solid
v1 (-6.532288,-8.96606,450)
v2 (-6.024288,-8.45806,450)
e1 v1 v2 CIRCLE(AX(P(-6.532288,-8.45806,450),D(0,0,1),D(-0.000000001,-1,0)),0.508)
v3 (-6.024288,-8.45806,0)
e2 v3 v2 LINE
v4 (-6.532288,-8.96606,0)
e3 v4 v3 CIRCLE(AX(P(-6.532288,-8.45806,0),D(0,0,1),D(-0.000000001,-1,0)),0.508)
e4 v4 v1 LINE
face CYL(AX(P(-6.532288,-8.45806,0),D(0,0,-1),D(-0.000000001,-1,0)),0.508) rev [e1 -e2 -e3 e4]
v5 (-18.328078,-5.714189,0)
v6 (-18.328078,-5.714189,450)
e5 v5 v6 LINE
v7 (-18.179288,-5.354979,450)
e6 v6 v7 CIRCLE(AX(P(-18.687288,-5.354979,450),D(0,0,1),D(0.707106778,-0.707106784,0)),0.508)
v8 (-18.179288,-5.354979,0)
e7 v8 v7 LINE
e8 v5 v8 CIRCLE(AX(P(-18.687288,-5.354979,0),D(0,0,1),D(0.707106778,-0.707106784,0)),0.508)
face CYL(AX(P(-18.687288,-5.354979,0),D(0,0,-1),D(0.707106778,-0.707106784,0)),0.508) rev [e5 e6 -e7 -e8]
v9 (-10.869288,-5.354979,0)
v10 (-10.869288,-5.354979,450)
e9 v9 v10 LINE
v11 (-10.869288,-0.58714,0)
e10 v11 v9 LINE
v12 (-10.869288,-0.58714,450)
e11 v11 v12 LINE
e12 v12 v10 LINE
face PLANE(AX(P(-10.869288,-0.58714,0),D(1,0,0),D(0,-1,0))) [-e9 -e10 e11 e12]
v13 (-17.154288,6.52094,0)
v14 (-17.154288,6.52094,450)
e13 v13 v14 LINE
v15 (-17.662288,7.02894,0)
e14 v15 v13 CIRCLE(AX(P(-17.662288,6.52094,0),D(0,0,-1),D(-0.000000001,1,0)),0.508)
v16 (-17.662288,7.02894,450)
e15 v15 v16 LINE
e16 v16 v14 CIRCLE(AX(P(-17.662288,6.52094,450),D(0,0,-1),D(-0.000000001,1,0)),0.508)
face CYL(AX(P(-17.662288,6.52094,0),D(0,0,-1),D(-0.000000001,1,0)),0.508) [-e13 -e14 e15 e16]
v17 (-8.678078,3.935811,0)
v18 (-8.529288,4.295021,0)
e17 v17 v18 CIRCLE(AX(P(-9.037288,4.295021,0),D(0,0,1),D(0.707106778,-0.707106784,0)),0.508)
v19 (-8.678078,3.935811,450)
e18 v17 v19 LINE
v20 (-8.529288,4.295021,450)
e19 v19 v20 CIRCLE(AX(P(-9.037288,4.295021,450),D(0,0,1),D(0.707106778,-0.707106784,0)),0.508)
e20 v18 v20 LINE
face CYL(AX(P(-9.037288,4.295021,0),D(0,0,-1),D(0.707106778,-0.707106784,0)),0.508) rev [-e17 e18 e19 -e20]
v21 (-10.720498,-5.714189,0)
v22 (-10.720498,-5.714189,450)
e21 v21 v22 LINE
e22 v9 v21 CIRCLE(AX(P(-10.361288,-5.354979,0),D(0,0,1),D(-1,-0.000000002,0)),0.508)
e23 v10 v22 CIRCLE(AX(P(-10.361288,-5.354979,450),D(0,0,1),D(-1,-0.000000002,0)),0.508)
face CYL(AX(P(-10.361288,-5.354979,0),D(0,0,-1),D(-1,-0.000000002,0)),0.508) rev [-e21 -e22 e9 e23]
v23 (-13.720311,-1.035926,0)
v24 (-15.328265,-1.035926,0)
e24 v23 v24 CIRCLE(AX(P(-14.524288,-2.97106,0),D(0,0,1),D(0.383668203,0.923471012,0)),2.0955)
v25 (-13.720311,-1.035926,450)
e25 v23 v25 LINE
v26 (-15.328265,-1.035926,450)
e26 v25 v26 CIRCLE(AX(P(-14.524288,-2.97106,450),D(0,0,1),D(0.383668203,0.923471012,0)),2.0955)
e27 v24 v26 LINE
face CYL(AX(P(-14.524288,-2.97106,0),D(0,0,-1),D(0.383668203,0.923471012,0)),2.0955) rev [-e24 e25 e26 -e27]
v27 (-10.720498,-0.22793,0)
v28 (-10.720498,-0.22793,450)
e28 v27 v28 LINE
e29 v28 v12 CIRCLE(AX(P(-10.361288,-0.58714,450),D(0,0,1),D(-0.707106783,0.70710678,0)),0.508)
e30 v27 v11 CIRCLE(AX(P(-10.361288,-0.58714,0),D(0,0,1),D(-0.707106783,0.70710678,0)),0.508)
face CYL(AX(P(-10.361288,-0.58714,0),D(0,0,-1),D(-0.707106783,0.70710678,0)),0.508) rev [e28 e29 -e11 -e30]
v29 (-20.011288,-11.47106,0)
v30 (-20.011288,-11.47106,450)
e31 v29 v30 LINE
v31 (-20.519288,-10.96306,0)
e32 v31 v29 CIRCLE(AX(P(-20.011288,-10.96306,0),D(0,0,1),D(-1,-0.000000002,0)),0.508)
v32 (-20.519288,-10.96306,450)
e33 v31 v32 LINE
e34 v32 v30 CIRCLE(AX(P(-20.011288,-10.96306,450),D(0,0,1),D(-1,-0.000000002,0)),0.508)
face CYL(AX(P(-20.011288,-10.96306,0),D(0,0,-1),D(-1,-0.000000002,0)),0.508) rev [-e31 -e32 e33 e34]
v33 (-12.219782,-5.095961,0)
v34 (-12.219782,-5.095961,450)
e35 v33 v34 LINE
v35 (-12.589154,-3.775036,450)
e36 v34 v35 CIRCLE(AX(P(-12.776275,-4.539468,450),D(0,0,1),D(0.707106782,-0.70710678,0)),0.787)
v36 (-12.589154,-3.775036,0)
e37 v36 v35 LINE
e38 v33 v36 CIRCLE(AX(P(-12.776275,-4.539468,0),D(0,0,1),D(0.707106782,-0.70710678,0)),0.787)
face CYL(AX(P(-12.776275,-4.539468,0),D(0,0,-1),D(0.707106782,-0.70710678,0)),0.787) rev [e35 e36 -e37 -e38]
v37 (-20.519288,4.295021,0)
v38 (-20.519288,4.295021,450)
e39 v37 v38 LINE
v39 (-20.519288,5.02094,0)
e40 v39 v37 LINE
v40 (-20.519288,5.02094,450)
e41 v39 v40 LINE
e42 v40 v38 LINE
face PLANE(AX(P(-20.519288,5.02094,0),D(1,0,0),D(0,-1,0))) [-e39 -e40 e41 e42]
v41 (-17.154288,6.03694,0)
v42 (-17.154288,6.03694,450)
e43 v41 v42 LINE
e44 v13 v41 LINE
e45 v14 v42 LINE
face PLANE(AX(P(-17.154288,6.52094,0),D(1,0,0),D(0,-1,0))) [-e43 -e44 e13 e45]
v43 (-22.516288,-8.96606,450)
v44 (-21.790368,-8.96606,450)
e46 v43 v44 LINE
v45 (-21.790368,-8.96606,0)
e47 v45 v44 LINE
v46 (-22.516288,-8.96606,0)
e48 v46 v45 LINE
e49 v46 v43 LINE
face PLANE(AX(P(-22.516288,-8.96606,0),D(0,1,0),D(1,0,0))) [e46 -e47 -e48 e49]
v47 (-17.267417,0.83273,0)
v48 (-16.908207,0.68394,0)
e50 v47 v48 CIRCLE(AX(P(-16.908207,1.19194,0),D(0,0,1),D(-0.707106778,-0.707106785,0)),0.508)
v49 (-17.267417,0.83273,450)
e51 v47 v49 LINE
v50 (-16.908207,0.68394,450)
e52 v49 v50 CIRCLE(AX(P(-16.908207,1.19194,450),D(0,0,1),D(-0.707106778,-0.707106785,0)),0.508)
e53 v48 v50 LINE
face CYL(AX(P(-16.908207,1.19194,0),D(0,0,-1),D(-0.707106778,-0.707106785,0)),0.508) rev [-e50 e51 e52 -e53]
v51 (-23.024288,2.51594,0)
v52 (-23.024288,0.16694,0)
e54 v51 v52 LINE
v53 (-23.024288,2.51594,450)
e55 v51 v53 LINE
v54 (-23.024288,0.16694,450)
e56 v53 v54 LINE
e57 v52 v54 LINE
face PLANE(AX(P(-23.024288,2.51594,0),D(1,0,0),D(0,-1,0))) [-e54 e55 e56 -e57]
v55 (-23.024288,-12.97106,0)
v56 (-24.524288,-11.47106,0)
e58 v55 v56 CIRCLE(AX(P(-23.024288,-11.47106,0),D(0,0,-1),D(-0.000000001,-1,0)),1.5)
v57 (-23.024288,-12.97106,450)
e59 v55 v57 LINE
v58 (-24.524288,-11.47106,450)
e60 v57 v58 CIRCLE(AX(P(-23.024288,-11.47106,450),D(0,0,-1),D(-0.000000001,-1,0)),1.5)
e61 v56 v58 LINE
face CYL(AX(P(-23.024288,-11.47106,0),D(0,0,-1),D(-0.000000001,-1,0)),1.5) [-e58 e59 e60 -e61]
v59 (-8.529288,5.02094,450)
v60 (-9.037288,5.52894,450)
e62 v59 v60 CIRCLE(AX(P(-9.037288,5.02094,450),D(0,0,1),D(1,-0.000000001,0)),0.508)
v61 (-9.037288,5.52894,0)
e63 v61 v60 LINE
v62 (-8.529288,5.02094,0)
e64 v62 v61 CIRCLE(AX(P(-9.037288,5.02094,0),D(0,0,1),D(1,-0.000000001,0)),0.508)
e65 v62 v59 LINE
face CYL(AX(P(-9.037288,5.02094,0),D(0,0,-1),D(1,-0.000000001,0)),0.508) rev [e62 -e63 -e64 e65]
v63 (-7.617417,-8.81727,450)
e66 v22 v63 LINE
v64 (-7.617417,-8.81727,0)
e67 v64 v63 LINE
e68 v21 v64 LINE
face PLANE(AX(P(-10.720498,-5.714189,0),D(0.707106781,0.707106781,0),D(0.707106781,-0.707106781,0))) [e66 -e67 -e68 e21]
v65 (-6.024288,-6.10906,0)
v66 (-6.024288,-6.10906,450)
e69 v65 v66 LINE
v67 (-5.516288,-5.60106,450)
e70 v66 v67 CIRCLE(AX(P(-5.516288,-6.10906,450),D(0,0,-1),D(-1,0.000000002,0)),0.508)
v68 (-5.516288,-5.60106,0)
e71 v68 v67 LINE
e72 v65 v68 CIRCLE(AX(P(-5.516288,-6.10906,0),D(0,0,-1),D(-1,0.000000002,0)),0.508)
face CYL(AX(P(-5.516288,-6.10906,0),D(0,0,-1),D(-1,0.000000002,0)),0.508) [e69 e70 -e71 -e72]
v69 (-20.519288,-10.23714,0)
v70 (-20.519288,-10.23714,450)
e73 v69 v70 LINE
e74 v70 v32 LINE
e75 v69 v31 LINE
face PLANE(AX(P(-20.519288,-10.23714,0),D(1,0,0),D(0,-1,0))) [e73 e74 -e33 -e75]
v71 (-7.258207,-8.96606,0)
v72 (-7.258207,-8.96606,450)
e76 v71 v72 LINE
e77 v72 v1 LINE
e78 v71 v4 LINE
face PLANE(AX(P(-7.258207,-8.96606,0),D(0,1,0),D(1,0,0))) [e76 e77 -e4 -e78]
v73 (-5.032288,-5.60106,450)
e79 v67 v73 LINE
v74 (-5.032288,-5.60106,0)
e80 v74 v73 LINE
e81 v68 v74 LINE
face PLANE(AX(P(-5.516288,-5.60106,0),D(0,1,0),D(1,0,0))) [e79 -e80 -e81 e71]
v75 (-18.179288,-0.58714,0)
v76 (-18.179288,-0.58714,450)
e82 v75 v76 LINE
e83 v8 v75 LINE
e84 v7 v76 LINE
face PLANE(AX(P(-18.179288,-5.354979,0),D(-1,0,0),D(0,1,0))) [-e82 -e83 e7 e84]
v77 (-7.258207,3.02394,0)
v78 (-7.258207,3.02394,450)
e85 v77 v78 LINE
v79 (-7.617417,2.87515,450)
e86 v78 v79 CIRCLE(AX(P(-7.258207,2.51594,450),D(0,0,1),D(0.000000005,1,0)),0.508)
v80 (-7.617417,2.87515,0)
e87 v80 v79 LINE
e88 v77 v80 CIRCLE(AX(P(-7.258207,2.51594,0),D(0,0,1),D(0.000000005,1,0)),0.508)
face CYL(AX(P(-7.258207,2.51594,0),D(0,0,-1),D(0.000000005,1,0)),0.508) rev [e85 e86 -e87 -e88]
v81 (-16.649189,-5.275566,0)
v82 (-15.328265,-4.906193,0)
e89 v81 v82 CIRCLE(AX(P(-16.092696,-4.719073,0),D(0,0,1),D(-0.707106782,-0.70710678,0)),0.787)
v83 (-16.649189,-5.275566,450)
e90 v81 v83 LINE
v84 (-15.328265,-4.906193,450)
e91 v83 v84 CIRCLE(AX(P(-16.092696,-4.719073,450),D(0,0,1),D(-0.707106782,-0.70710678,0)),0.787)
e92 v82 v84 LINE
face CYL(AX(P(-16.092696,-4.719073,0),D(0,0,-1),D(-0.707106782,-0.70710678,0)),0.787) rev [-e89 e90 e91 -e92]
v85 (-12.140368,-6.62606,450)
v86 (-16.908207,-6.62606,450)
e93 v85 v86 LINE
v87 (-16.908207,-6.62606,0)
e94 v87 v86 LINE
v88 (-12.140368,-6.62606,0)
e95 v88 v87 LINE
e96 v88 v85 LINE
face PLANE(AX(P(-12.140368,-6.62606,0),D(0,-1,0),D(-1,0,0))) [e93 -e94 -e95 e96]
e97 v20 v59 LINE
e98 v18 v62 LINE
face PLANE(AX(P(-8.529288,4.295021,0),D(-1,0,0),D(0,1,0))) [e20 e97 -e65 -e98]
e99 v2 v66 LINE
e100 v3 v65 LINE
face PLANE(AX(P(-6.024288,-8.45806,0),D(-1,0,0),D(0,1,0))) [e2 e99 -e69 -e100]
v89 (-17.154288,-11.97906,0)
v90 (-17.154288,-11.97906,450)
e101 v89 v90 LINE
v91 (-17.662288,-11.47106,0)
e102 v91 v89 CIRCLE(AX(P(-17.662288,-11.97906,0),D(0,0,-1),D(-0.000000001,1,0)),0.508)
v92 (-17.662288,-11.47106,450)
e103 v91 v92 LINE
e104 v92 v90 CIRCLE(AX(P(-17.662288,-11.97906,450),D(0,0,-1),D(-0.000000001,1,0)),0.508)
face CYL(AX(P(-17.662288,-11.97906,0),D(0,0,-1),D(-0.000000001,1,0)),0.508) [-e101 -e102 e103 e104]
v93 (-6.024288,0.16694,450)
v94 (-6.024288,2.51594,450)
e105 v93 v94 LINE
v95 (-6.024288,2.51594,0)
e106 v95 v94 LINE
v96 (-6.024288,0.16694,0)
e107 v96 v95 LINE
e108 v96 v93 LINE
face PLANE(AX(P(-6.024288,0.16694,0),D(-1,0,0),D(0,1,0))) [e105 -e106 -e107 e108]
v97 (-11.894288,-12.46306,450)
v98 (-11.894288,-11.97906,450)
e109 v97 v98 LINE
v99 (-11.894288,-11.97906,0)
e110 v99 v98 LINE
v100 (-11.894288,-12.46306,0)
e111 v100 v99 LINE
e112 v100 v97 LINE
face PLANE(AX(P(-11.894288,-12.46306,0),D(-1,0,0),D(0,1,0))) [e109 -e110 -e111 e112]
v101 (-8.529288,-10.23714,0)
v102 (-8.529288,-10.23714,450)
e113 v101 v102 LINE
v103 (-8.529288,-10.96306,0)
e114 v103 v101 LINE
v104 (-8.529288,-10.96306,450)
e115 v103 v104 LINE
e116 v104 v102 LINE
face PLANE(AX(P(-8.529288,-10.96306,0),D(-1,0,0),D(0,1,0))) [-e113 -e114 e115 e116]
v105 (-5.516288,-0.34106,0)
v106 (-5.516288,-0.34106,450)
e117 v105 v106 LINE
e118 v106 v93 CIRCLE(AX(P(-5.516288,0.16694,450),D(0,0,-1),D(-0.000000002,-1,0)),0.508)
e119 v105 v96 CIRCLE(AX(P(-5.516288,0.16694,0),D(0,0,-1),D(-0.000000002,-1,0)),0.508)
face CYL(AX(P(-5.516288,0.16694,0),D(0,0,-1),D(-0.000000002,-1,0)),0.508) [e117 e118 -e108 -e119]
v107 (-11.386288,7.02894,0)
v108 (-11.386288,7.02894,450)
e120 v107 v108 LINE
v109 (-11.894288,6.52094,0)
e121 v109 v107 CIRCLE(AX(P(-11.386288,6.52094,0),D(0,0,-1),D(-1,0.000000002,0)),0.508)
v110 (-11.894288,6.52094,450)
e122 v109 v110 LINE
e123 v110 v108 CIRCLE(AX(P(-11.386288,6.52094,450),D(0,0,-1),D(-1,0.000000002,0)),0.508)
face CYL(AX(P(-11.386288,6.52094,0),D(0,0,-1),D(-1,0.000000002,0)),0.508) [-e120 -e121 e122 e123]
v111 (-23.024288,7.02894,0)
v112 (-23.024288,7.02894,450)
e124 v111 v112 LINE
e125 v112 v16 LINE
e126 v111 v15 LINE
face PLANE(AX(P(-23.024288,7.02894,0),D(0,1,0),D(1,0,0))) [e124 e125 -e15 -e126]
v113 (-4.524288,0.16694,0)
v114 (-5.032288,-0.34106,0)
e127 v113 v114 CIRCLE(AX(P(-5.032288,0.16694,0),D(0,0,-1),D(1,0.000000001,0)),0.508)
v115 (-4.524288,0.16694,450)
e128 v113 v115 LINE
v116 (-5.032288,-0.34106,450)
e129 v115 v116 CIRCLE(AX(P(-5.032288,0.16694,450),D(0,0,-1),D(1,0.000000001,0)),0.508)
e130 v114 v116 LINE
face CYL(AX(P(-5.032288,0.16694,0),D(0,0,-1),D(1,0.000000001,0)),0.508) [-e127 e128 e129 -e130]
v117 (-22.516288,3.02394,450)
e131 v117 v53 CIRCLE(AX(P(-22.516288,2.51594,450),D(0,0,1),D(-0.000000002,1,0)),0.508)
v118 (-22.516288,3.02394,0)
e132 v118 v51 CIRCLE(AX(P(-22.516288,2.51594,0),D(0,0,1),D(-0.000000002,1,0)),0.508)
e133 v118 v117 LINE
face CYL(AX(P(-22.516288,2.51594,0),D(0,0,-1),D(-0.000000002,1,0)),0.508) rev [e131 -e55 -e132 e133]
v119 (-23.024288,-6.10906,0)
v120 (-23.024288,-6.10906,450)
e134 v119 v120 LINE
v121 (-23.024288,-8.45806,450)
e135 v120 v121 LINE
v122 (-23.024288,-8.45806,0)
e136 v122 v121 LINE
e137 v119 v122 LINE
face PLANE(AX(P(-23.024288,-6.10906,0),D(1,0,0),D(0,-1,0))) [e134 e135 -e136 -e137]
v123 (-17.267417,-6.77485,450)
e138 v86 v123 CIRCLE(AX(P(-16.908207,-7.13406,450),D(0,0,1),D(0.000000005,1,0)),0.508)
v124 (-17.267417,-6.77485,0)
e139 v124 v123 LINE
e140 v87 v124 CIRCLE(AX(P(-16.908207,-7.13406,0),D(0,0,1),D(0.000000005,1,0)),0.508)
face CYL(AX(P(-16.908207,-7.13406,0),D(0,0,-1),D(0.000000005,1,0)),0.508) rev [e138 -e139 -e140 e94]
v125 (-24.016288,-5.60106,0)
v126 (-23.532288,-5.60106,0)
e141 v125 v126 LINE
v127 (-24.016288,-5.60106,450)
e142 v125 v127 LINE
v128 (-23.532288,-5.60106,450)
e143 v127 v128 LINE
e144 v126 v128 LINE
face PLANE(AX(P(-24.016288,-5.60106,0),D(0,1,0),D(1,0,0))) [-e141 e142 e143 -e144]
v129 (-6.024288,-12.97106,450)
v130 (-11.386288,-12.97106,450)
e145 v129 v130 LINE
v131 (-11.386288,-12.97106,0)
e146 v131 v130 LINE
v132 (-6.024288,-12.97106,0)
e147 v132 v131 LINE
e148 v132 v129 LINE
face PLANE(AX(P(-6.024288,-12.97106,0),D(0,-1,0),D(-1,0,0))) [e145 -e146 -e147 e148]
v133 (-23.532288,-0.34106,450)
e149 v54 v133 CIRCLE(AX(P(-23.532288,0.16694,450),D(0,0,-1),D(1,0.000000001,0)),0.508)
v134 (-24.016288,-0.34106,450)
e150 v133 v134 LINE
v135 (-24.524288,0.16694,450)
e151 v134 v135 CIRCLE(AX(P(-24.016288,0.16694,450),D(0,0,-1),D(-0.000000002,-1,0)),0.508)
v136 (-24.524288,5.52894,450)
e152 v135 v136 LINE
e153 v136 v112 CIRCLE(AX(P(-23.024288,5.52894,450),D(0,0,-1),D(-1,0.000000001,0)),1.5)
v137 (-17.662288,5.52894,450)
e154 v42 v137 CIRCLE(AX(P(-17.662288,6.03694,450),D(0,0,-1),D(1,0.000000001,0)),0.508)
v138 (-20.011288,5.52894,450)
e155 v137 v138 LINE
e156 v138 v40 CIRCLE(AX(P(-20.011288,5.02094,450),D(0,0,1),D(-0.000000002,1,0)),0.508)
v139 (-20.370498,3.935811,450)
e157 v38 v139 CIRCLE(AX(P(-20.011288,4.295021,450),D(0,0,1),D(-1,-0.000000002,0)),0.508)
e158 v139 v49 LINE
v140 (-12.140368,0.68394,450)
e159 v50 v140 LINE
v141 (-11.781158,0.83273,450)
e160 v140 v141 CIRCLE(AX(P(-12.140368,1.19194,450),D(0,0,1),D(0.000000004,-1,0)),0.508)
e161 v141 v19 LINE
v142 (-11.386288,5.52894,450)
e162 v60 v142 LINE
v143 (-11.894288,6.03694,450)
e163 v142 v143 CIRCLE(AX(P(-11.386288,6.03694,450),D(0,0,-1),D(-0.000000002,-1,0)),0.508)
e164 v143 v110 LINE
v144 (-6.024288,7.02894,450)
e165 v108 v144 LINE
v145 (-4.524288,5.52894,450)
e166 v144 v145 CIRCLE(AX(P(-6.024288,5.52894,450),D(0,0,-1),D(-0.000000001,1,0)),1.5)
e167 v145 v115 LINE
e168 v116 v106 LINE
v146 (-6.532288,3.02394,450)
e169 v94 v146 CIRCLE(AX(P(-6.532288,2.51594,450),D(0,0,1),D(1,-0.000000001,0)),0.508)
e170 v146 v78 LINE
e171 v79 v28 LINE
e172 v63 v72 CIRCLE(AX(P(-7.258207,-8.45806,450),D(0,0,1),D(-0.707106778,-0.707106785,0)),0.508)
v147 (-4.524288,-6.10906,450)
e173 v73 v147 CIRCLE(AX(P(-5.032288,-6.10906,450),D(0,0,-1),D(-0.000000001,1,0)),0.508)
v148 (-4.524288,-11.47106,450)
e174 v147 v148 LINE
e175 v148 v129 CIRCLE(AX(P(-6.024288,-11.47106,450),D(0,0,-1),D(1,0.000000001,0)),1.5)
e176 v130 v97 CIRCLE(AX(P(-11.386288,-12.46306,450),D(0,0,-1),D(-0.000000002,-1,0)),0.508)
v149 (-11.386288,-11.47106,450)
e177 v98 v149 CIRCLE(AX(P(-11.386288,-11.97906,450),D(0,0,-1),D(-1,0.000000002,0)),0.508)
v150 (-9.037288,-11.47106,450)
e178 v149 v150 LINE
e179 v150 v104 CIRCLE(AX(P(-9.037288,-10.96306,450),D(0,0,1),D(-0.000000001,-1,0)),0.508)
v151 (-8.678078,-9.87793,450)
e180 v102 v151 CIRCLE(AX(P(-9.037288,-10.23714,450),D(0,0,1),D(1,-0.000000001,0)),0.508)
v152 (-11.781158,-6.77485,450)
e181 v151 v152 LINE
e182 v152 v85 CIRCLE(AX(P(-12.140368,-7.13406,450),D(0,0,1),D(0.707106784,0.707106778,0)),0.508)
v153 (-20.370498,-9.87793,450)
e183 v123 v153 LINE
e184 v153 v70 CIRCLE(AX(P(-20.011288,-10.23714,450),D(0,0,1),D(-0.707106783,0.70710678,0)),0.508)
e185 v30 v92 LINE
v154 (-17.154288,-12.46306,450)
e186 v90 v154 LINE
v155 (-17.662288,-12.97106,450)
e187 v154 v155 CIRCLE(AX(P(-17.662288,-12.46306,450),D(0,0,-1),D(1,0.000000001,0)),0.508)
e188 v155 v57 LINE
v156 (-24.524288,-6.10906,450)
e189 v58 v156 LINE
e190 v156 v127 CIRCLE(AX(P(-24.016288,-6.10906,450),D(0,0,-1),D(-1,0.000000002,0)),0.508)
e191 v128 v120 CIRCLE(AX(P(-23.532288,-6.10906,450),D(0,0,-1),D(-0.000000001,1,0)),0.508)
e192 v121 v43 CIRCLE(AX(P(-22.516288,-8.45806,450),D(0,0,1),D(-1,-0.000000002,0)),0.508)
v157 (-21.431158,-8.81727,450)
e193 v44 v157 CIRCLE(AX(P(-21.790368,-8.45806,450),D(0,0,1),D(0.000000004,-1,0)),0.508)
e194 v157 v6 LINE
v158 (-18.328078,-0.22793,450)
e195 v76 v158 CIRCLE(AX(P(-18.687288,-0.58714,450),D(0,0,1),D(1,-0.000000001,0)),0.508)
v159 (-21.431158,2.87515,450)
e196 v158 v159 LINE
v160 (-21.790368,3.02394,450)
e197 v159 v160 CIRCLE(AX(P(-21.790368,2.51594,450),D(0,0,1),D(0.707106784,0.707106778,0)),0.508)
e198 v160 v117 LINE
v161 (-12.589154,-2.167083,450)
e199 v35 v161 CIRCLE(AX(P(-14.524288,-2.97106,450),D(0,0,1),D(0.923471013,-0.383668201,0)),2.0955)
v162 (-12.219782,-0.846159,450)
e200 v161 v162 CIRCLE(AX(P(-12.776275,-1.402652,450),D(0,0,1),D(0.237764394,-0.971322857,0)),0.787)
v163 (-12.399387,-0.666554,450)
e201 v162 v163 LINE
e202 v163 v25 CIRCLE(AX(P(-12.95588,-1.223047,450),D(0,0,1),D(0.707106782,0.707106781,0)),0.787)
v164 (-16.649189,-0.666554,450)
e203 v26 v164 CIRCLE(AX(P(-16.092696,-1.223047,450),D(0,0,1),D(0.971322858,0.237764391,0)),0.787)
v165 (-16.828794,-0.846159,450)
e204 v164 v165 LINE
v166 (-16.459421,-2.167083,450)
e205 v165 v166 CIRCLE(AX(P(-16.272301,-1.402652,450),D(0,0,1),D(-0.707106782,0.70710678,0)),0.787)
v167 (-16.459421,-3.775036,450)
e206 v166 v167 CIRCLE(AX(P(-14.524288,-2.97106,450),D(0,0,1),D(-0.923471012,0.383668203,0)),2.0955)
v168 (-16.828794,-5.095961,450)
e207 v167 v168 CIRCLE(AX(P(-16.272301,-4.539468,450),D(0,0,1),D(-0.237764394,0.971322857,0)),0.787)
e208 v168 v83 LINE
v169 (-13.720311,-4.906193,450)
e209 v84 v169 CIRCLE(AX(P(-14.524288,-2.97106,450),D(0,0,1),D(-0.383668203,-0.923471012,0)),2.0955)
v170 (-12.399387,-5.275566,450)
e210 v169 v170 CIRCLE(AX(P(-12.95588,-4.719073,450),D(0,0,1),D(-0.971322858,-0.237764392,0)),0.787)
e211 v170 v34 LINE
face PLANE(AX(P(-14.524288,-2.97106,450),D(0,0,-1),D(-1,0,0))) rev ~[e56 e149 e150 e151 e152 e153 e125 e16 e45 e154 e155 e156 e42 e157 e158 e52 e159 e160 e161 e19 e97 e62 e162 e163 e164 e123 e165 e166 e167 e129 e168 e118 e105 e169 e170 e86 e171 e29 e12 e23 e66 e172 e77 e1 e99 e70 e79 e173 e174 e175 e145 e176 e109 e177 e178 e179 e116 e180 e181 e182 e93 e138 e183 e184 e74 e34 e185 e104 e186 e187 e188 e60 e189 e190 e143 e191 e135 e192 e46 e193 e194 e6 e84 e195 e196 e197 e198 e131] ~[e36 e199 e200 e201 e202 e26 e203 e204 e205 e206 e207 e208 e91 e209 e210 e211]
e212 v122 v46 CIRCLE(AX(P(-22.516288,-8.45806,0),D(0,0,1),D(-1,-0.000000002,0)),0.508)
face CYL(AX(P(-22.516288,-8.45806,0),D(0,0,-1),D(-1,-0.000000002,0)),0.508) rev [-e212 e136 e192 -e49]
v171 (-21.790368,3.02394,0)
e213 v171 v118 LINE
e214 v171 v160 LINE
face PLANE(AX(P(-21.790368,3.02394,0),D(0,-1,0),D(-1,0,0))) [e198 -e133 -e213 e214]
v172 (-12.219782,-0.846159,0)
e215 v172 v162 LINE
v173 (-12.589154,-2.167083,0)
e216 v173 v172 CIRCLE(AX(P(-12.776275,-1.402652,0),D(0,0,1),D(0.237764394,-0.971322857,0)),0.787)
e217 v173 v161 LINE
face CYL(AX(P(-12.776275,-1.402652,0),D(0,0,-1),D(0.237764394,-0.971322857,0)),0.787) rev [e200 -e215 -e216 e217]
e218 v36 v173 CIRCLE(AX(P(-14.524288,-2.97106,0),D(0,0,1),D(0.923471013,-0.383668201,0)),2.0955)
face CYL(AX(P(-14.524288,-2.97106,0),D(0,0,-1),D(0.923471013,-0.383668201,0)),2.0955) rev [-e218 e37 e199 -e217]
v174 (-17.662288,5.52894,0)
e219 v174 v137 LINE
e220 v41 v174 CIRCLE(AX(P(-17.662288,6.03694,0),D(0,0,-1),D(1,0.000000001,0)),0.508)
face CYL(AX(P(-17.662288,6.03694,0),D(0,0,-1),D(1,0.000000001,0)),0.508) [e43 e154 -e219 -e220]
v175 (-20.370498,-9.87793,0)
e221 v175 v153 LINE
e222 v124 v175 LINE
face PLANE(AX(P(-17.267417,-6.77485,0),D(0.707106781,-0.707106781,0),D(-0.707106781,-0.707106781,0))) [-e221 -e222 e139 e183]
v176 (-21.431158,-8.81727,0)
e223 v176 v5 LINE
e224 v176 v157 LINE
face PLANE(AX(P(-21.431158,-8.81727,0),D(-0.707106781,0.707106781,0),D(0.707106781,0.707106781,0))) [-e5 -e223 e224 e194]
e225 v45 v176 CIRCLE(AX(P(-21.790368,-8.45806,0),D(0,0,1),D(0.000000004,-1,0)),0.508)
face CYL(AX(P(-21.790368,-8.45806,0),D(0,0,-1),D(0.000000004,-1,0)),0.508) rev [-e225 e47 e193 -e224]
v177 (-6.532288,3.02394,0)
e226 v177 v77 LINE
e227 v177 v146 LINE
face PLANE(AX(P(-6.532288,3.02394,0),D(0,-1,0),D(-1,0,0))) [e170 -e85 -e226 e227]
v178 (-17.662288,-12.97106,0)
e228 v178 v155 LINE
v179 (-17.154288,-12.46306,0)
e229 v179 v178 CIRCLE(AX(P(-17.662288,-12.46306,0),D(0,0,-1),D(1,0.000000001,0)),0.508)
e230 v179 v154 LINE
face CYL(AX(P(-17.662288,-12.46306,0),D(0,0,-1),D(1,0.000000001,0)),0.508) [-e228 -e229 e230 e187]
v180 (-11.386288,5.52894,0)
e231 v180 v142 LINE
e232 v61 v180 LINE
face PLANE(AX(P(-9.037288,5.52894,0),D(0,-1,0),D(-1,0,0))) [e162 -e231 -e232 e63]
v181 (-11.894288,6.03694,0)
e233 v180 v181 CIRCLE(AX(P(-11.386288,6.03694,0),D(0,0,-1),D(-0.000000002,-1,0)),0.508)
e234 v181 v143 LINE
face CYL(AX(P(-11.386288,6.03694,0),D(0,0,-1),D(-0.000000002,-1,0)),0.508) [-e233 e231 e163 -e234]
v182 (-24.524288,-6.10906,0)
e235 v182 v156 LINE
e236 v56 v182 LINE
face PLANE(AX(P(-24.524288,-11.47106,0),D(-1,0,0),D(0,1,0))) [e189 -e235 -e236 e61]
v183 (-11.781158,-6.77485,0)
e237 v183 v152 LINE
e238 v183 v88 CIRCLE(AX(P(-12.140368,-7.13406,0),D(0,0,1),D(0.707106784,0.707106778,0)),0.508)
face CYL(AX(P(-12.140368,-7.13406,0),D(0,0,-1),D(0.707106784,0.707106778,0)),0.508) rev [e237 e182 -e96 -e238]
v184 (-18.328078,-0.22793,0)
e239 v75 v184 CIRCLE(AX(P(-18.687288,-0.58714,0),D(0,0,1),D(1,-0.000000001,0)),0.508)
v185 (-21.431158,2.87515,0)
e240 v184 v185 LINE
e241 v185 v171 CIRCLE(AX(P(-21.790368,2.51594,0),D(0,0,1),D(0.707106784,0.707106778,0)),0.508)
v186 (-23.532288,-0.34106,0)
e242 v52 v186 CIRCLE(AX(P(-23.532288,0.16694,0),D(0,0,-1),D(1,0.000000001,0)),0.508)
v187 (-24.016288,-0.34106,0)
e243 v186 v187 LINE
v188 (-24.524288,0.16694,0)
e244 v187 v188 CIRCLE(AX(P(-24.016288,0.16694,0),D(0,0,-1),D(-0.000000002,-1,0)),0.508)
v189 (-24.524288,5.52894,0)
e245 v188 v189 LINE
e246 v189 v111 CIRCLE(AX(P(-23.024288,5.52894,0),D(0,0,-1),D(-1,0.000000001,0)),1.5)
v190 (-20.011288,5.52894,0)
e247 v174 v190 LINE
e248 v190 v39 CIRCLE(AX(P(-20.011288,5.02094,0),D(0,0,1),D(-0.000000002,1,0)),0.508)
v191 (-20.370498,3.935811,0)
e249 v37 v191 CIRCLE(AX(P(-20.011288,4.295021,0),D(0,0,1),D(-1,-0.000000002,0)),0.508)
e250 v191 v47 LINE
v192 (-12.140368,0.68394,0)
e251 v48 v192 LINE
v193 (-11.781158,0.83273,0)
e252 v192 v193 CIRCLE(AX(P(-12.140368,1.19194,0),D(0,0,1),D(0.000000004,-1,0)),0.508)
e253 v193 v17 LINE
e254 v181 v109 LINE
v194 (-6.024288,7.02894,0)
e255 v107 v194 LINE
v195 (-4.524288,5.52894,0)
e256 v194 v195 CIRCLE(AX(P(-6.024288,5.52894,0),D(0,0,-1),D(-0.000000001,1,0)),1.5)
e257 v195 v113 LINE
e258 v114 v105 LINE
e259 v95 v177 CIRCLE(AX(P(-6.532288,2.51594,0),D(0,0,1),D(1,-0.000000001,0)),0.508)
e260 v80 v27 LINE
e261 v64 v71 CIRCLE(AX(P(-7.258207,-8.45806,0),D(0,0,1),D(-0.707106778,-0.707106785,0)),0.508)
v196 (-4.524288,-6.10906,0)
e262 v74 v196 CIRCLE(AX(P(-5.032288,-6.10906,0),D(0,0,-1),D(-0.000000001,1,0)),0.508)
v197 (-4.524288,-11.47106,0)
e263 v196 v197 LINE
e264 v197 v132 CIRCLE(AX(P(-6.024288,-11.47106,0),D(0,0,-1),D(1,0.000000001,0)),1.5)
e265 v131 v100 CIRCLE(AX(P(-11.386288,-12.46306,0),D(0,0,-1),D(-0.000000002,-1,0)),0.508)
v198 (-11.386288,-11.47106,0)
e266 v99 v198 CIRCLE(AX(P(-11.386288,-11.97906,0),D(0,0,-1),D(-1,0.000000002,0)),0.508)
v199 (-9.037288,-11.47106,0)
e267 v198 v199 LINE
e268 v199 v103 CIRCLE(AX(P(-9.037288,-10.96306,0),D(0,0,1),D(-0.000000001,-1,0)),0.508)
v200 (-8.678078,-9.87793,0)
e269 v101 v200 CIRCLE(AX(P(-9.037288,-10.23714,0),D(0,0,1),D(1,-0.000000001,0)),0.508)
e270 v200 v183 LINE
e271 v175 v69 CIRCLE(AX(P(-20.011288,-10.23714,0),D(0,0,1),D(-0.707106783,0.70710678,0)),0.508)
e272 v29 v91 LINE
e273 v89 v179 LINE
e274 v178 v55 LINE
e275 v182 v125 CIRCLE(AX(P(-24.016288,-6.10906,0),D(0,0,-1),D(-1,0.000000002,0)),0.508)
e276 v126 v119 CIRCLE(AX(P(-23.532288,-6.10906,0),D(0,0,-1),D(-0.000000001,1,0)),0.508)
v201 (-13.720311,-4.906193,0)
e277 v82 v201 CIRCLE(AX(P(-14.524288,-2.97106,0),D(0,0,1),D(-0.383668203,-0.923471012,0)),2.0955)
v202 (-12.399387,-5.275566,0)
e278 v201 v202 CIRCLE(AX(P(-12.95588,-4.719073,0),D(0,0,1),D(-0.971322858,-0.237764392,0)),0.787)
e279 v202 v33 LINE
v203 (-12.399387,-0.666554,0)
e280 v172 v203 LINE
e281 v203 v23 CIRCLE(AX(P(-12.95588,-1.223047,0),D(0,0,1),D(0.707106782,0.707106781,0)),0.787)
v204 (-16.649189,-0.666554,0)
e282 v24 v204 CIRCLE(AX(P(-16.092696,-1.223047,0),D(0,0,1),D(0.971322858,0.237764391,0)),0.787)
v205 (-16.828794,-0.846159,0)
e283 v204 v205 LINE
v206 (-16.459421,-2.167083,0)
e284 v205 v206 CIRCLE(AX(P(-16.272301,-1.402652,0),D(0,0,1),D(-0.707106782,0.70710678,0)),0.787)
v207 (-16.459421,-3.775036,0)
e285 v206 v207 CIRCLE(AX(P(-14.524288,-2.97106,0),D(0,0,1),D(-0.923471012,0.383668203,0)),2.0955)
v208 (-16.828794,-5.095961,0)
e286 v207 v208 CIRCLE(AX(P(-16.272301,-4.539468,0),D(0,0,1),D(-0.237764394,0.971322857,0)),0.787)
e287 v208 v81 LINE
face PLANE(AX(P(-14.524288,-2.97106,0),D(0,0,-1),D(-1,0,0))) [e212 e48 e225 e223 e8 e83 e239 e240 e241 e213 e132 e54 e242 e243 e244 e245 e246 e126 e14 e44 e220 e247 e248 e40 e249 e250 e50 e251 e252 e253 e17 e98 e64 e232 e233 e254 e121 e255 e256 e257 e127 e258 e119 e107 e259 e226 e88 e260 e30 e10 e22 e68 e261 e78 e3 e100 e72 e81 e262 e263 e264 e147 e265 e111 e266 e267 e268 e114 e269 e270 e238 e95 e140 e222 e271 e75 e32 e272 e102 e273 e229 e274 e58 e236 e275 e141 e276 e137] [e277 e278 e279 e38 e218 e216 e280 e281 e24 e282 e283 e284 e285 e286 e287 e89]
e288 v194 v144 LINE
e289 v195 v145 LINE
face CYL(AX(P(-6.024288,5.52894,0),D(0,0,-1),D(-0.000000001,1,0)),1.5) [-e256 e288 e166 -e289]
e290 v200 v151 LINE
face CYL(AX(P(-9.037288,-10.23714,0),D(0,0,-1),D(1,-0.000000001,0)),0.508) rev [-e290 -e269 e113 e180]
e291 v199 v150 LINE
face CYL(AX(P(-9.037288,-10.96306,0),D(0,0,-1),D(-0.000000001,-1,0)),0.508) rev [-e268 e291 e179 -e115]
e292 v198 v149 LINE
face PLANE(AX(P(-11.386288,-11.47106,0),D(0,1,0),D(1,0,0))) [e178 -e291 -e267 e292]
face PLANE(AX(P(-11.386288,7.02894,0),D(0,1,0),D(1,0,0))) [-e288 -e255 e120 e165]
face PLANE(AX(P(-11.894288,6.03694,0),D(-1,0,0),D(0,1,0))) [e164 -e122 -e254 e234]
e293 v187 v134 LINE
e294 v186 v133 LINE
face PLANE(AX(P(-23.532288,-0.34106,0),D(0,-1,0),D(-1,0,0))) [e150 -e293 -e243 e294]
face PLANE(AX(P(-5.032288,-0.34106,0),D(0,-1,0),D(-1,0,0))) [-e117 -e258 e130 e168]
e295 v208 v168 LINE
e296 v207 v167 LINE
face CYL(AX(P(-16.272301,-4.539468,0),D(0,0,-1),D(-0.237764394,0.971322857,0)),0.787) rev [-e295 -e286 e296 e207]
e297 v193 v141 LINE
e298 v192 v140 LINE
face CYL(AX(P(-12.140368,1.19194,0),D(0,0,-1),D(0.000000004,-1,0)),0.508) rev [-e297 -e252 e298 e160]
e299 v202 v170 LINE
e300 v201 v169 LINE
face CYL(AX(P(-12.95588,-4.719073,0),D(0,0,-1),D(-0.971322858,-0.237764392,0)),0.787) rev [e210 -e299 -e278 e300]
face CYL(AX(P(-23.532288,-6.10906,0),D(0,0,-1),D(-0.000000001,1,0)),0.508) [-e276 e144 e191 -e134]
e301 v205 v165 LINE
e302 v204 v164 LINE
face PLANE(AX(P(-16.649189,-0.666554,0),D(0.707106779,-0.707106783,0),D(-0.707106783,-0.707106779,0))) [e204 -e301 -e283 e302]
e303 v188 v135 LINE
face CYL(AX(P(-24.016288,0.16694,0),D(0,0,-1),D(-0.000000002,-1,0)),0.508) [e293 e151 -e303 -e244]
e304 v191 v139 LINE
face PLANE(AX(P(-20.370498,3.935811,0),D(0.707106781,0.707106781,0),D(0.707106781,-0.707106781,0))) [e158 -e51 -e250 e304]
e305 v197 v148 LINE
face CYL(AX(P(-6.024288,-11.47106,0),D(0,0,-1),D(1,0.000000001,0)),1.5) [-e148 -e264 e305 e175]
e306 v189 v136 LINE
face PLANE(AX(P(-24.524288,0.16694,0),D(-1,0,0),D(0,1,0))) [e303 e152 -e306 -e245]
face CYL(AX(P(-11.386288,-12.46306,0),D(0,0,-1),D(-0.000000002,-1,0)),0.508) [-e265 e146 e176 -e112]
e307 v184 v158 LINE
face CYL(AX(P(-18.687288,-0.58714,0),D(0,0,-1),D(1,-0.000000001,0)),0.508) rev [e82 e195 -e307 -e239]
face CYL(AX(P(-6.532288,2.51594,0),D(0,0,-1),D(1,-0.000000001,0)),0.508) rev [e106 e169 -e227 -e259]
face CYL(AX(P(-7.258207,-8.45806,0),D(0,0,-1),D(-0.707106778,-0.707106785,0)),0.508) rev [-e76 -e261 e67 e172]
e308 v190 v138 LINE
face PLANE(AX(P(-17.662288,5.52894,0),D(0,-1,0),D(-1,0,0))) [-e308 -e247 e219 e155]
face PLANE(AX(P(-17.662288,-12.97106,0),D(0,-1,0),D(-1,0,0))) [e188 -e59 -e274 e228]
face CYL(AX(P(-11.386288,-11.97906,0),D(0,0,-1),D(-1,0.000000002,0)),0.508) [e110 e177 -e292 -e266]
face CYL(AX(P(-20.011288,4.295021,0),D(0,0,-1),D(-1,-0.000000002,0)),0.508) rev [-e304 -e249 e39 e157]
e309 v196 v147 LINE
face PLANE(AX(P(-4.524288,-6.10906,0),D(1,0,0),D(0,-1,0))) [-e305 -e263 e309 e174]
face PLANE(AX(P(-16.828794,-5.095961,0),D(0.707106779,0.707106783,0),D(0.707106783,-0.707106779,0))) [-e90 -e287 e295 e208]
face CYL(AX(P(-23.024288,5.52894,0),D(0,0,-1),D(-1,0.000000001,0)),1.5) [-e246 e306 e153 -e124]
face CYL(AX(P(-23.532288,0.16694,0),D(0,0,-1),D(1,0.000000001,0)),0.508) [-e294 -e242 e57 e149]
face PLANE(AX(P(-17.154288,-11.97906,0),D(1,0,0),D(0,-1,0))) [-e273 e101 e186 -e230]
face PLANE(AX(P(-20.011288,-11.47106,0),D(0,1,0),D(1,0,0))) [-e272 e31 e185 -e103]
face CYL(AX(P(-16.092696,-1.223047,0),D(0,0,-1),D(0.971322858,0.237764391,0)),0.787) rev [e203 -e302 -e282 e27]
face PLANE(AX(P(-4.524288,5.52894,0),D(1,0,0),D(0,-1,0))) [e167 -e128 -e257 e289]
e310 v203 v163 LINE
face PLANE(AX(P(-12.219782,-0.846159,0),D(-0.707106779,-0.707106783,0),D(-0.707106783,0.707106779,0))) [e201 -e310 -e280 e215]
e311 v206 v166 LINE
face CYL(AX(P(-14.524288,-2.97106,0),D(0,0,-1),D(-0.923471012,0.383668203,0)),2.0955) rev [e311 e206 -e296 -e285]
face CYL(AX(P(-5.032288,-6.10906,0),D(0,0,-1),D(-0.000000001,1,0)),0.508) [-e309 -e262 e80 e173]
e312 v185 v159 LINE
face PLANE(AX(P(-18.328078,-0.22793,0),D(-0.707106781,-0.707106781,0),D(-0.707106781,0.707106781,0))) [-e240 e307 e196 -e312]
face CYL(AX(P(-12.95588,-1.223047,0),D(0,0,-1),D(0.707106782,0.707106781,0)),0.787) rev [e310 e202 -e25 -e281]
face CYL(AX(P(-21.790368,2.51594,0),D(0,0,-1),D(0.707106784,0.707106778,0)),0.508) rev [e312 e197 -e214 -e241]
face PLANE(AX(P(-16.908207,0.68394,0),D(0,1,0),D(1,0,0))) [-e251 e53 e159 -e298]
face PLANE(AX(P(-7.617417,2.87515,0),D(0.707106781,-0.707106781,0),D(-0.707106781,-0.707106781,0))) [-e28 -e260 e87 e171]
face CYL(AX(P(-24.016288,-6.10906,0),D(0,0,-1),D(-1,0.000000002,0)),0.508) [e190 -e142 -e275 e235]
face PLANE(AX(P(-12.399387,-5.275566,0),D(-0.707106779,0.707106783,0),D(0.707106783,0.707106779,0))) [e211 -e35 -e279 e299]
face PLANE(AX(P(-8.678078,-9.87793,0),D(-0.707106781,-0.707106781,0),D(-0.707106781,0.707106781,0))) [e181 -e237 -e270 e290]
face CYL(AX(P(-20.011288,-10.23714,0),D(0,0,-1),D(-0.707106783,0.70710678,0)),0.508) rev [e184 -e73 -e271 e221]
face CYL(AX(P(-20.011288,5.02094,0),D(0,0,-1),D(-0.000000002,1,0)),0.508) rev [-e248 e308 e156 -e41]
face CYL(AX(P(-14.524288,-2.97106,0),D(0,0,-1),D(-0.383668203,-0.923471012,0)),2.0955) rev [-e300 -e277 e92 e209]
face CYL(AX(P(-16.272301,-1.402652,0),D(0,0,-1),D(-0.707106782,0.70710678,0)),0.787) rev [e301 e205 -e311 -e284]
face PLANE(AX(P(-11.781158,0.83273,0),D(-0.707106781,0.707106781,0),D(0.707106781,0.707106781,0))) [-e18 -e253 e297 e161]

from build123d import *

# Parameters (mm, degrees)
EXTRUDE1_DEPTH = 450


with BuildPart() as part:
    # Sketch1 → Extrude1 (new body)
    with BuildSketch(Plane.XY):
        with BuildLine():
            Line((-5.032287798, -0.341059771), (-5.516287798, -0.341059771))
            ThreePointArc((-5.516287798, -0.341059771), (-5.875498042, -0.192270016), (-6.024287798, 0.166940229))
            Line((-6.024287798, 0.166940229), (-6.024287798, 2.515940229))
            ThreePointArc((-6.024287798, 2.515940229), (-6.173077553, 2.875150474), (-6.532287798, 3.023940229))
            Line((-6.532287798, 3.023940229), (-7.258207136, 3.023940229))
            ThreePointArc((-7.258207136, 3.023940229), (-7.45261032, 2.985271032), (-7.617417381, 2.875150474))
            Line((-7.617417381, 2.875150474), (-10.720498042, -0.227930187))
            ThreePointArc((-10.720498042, -0.227930187), (-10.8306186, -0.392737249), (-10.869287798, -0.587140432))
            Line((-10.869287798, -0.587140432), (-10.869287798, -5.354979109))
            ThreePointArc((-10.869287798, -5.354979109), (-10.8306186, -5.549382293), (-10.720498042, -5.714189354))
            Line((-10.720498042, -5.714189354), (-7.617417381, -8.817270016))
            ThreePointArc((-7.617417381, -8.817270016), (-7.45261032, -8.927390573), (-7.258207136, -8.966059771))
            Line((-7.258207136, -8.966059771), (-6.532287798, -8.966059771))
            ThreePointArc((-6.532287798, -8.966059771), (-6.173077553, -8.817270016), (-6.024287798, -8.458059771))
            Line((-6.024287798, -8.458059771), (-6.024287798, -6.109059771))
            ThreePointArc((-6.024287798, -6.109059771), (-5.875498042, -5.749849526), (-5.516287798, -5.601059771))
            Line((-5.516287798, -5.601059771), (-5.032287798, -5.601059771))
            ThreePointArc((-5.032287798, -5.601059771), (-4.673077553, -5.749849526), (-4.524287798, -6.109059771))
            Line((-4.524287798, -6.109059771), (-4.524287798, -11.471059771))
            ThreePointArc((-4.524287798, -11.471059771), (-4.963627626, -12.531719943), (-6.024287798, -12.971059771))
            Line((-6.024287798, -12.971059771), (-11.386287798, -12.971059771))
            ThreePointArc((-11.386287798, -12.971059771), (-11.745498042, -12.822270016), (-11.894287798, -12.463059771))
            Line((-11.894287798, -12.463059771), (-11.894287798, -11.979059771))
            ThreePointArc((-11.894287798, -11.979059771), (-11.745498042, -11.619849526), (-11.386287798, -11.471059771))
            Line((-11.386287798, -11.471059771), (-9.037287798, -11.471059771))
            ThreePointArc((-9.037287798, -11.471059771), (-8.678077553, -11.322270016), (-8.529287798, -10.963059771))
            Line((-8.529287798, -10.963059771), (-8.529287798, -10.237140432))
            ThreePointArc((-8.529287798, -10.237140432), (-8.567956995, -10.042737249), (-8.678077553, -9.877930187))
            Line((-8.678077553, -9.877930187), (-11.781158214, -6.774849526))
            ThreePointArc((-11.781158214, -6.774849526), (-11.945965275, -6.664728968), (-12.140368459, -6.626059771))
            Line((-12.140368459, -6.626059771), (-16.908207136, -6.626059771))
            ThreePointArc((-16.908207136, -6.626059771), (-17.10261032, -6.664728968), (-17.267417381, -6.774849526))
            Line((-17.267417381, -6.774849526), (-20.370498042, -9.877930187))
            ThreePointArc((-20.370498042, -9.877930187), (-20.4806186, -10.042737249), (-20.519287798, -10.237140432))
            Line((-20.519287798, -10.237140432), (-20.519287798, -10.963059771))
            ThreePointArc((-20.519287798, -10.963059771), (-20.370498042, -11.322270016), (-20.011287798, -11.471059771))
            Line((-20.011287798, -11.471059771), (-17.662287798, -11.471059771))
            ThreePointArc((-17.662287798, -11.471059771), (-17.303077553, -11.619849526), (-17.154287798, -11.979059771))
            Line((-17.154287798, -11.979059771), (-17.154287798, -12.463059771))
            ThreePointArc((-17.154287798, -12.463059771), (-17.303077553, -12.822270016), (-17.662287798, -12.971059771))
            Line((-17.662287798, -12.971059771), (-23.024287798, -12.971059771))
            ThreePointArc((-23.024287798, -12.971059771), (-24.084947969, -12.531719943), (-24.524287798, -11.471059771))
            Line((-24.524287798, -11.471059771), (-24.524287798, -6.109059771))
            ThreePointArc((-24.524287798, -6.109059771), (-24.375498042, -5.749849526), (-24.016287798, -5.601059771))
            Line((-24.016287798, -5.601059771), (-23.532287798, -5.601059771))
            ThreePointArc((-23.532287798, -5.601059771), (-23.173077553, -5.749849526), (-23.024287798, -6.109059771))
            Line((-23.024287798, -6.109059771), (-23.024287798, -8.458059771))
            ThreePointArc((-23.024287798, -8.458059771), (-22.875498042, -8.817270016), (-22.516287798, -8.966059771))
            Line((-22.516287798, -8.966059771), (-21.790368459, -8.966059771))
            ThreePointArc((-21.790368459, -8.966059771), (-21.595965275, -8.927390573), (-21.431158214, -8.817270016))
            Line((-21.431158214, -8.817270016), (-18.328077553, -5.714189354))
            ThreePointArc((-18.328077553, -5.714189354), (-18.217956995, -5.549382293), (-18.179287798, -5.354979109))
            Line((-18.179287798, -5.354979109), (-18.179287798, -0.587140432))
            ThreePointArc((-18.179287798, -0.587140432), (-18.217956995, -0.392737249), (-18.328077553, -0.227930187))
            Line((-18.328077553, -0.227930187), (-21.431158214, 2.875150474))
            ThreePointArc((-21.431158214, 2.875150474), (-21.595965275, 2.985271032), (-21.790368459, 3.023940229))
            Line((-21.790368459, 3.023940229), (-22.516287798, 3.023940229))
            ThreePointArc((-22.516287798, 3.023940229), (-22.875498042, 2.875150474), (-23.024287798, 2.515940229))
            Line((-23.024287798, 2.515940229), (-23.024287798, 0.166940229))
            ThreePointArc((-23.024287798, 0.166940229), (-23.173077553, -0.192270016), (-23.532287798, -0.341059771))
            Line((-23.532287798, -0.341059771), (-24.016287798, -0.341059771))
            ThreePointArc((-24.016287798, -0.341059771), (-24.375498042, -0.192270016), (-24.524287798, 0.166940229))
            Line((-24.524287798, 0.166940229), (-24.524287798, 5.528940229))
            ThreePointArc((-24.524287798, 5.528940229), (-24.084947969, 6.589600401), (-23.024287798, 7.028940229))
            Line((-23.024287798, 7.028940229), (-17.662287798, 7.028940229))
            ThreePointArc((-17.662287798, 7.028940229), (-17.303077553, 6.880150474), (-17.154287798, 6.520940229))
            Line((-17.154287798, 6.520940229), (-17.154287798, 6.036940229))
            ThreePointArc((-17.154287798, 6.036940229), (-17.303077553, 5.677729984), (-17.662287798, 5.528940229))
            Line((-17.662287798, 5.528940229), (-20.011287798, 5.528940229))
            ThreePointArc((-20.011287798, 5.528940229), (-20.370498042, 5.380150474), (-20.519287798, 5.020940229))
            Line((-20.519287798, 5.020940229), (-20.519287798, 4.295020891))
            ThreePointArc((-20.519287798, 4.295020891), (-20.4806186, 4.100617707), (-20.370498042, 3.935810646))
            Line((-20.370498042, 3.935810646), (-17.267417381, 0.832729984))
            ThreePointArc((-17.267417381, 0.832729984), (-17.10261032, 0.722609427), (-16.908207136, 0.683940229))
            Line((-16.908207136, 0.683940229), (-12.140368459, 0.683940229))
            ThreePointArc((-12.140368459, 0.683940229), (-11.945965275, 0.722609427), (-11.781158214, 0.832729984))
            Line((-11.781158214, 0.832729984), (-8.678077553, 3.935810646))
            ThreePointArc((-8.678077553, 3.935810646), (-8.567956995, 4.100617707), (-8.529287798, 4.295020891))
            Line((-8.529287798, 4.295020891), (-8.529287798, 5.020940229))
            ThreePointArc((-8.529287798, 5.020940229), (-8.678077553, 5.380150474), (-9.037287798, 5.528940229))
            Line((-9.037287798, 5.528940229), (-11.386287798, 5.528940229))
            ThreePointArc((-11.386287798, 5.528940229), (-11.745498042, 5.677729984), (-11.894287798, 6.036940229))
            Line((-11.894287798, 6.036940229), (-11.894287798, 6.520940229))
            ThreePointArc((-11.894287798, 6.520940229), (-11.745498042, 6.880150474), (-11.386287798, 7.028940229))
            Line((-11.386287798, 7.028940229), (-6.024287798, 7.028940229))
            ThreePointArc((-6.024287798, 7.028940229), (-4.963627626, 6.589600401), (-4.524287798, 5.528940229))
            Line((-4.524287798, 5.528940229), (-4.524287798, 0.166940229))
            ThreePointArc((-4.524287798, 0.166940229), (-4.673077553, -0.192270016), (-5.032287798, -0.341059771))
        make_face()
        with BuildLine():
            Line((-12.399386954, -5.275565737), (-12.219781831, -5.095960615))
            ThreePointArc((-12.219781831, -5.095960615), (-12.018349781, -4.327527582), (-12.589154291, -3.775036489))
            ThreePointArc((-12.589154291, -3.775036489), (-12.428787798, -2.971059771), (-12.589154291, -2.167083053))
            ThreePointArc((-12.589154291, -2.167083053), (-12.018349781, -1.61459196), (-12.219781831, -0.846158927))
            Line((-12.219781831, -0.846158927), (-12.399386954, -0.666553805))
            ThreePointArc((-12.399386954, -0.666553805), (-13.167819987, -0.465121754), (-13.72031108, -1.035926265))
            ThreePointArc((-13.72031108, -1.035926265), (-14.524287798, -0.875559771), (-15.328264516, -1.035926265))
            ThreePointArc((-15.328264516, -1.035926265), (-15.880755608, -0.465121754), (-16.649188641, -0.666553805))
            Line((-16.649188641, -0.666553805), (-16.828793764, -0.846158927))
            ThreePointArc((-16.828793764, -0.846158927), (-17.030225814, -1.61459196), (-16.459421304, -2.167083053))
            ThreePointArc((-16.459421304, -2.167083053), (-16.619787798, -2.971059771), (-16.459421304, -3.775036489))
            ThreePointArc((-16.459421304, -3.775036489), (-17.030225814, -4.327527582), (-16.828793764, -5.095960615))
            Line((-16.828793764, -5.095960615), (-16.649188641, -5.275565737))
            ThreePointArc((-16.649188641, -5.275565737), (-15.880755608, -5.476997788), (-15.328264516, -4.906193277))
            ThreePointArc((-15.328264516, -4.906193277), (-14.524287798, -5.066559771), (-13.72031108, -4.906193277))
            ThreePointArc((-13.72031108, -4.906193277), (-13.167819987, -5.476997788), (-12.399386954, -5.275565737))
        make_face(mode=Mode.SUBTRACT)
    extrude(amount=EXTRUDE1_DEPTH)


solid = part.part
